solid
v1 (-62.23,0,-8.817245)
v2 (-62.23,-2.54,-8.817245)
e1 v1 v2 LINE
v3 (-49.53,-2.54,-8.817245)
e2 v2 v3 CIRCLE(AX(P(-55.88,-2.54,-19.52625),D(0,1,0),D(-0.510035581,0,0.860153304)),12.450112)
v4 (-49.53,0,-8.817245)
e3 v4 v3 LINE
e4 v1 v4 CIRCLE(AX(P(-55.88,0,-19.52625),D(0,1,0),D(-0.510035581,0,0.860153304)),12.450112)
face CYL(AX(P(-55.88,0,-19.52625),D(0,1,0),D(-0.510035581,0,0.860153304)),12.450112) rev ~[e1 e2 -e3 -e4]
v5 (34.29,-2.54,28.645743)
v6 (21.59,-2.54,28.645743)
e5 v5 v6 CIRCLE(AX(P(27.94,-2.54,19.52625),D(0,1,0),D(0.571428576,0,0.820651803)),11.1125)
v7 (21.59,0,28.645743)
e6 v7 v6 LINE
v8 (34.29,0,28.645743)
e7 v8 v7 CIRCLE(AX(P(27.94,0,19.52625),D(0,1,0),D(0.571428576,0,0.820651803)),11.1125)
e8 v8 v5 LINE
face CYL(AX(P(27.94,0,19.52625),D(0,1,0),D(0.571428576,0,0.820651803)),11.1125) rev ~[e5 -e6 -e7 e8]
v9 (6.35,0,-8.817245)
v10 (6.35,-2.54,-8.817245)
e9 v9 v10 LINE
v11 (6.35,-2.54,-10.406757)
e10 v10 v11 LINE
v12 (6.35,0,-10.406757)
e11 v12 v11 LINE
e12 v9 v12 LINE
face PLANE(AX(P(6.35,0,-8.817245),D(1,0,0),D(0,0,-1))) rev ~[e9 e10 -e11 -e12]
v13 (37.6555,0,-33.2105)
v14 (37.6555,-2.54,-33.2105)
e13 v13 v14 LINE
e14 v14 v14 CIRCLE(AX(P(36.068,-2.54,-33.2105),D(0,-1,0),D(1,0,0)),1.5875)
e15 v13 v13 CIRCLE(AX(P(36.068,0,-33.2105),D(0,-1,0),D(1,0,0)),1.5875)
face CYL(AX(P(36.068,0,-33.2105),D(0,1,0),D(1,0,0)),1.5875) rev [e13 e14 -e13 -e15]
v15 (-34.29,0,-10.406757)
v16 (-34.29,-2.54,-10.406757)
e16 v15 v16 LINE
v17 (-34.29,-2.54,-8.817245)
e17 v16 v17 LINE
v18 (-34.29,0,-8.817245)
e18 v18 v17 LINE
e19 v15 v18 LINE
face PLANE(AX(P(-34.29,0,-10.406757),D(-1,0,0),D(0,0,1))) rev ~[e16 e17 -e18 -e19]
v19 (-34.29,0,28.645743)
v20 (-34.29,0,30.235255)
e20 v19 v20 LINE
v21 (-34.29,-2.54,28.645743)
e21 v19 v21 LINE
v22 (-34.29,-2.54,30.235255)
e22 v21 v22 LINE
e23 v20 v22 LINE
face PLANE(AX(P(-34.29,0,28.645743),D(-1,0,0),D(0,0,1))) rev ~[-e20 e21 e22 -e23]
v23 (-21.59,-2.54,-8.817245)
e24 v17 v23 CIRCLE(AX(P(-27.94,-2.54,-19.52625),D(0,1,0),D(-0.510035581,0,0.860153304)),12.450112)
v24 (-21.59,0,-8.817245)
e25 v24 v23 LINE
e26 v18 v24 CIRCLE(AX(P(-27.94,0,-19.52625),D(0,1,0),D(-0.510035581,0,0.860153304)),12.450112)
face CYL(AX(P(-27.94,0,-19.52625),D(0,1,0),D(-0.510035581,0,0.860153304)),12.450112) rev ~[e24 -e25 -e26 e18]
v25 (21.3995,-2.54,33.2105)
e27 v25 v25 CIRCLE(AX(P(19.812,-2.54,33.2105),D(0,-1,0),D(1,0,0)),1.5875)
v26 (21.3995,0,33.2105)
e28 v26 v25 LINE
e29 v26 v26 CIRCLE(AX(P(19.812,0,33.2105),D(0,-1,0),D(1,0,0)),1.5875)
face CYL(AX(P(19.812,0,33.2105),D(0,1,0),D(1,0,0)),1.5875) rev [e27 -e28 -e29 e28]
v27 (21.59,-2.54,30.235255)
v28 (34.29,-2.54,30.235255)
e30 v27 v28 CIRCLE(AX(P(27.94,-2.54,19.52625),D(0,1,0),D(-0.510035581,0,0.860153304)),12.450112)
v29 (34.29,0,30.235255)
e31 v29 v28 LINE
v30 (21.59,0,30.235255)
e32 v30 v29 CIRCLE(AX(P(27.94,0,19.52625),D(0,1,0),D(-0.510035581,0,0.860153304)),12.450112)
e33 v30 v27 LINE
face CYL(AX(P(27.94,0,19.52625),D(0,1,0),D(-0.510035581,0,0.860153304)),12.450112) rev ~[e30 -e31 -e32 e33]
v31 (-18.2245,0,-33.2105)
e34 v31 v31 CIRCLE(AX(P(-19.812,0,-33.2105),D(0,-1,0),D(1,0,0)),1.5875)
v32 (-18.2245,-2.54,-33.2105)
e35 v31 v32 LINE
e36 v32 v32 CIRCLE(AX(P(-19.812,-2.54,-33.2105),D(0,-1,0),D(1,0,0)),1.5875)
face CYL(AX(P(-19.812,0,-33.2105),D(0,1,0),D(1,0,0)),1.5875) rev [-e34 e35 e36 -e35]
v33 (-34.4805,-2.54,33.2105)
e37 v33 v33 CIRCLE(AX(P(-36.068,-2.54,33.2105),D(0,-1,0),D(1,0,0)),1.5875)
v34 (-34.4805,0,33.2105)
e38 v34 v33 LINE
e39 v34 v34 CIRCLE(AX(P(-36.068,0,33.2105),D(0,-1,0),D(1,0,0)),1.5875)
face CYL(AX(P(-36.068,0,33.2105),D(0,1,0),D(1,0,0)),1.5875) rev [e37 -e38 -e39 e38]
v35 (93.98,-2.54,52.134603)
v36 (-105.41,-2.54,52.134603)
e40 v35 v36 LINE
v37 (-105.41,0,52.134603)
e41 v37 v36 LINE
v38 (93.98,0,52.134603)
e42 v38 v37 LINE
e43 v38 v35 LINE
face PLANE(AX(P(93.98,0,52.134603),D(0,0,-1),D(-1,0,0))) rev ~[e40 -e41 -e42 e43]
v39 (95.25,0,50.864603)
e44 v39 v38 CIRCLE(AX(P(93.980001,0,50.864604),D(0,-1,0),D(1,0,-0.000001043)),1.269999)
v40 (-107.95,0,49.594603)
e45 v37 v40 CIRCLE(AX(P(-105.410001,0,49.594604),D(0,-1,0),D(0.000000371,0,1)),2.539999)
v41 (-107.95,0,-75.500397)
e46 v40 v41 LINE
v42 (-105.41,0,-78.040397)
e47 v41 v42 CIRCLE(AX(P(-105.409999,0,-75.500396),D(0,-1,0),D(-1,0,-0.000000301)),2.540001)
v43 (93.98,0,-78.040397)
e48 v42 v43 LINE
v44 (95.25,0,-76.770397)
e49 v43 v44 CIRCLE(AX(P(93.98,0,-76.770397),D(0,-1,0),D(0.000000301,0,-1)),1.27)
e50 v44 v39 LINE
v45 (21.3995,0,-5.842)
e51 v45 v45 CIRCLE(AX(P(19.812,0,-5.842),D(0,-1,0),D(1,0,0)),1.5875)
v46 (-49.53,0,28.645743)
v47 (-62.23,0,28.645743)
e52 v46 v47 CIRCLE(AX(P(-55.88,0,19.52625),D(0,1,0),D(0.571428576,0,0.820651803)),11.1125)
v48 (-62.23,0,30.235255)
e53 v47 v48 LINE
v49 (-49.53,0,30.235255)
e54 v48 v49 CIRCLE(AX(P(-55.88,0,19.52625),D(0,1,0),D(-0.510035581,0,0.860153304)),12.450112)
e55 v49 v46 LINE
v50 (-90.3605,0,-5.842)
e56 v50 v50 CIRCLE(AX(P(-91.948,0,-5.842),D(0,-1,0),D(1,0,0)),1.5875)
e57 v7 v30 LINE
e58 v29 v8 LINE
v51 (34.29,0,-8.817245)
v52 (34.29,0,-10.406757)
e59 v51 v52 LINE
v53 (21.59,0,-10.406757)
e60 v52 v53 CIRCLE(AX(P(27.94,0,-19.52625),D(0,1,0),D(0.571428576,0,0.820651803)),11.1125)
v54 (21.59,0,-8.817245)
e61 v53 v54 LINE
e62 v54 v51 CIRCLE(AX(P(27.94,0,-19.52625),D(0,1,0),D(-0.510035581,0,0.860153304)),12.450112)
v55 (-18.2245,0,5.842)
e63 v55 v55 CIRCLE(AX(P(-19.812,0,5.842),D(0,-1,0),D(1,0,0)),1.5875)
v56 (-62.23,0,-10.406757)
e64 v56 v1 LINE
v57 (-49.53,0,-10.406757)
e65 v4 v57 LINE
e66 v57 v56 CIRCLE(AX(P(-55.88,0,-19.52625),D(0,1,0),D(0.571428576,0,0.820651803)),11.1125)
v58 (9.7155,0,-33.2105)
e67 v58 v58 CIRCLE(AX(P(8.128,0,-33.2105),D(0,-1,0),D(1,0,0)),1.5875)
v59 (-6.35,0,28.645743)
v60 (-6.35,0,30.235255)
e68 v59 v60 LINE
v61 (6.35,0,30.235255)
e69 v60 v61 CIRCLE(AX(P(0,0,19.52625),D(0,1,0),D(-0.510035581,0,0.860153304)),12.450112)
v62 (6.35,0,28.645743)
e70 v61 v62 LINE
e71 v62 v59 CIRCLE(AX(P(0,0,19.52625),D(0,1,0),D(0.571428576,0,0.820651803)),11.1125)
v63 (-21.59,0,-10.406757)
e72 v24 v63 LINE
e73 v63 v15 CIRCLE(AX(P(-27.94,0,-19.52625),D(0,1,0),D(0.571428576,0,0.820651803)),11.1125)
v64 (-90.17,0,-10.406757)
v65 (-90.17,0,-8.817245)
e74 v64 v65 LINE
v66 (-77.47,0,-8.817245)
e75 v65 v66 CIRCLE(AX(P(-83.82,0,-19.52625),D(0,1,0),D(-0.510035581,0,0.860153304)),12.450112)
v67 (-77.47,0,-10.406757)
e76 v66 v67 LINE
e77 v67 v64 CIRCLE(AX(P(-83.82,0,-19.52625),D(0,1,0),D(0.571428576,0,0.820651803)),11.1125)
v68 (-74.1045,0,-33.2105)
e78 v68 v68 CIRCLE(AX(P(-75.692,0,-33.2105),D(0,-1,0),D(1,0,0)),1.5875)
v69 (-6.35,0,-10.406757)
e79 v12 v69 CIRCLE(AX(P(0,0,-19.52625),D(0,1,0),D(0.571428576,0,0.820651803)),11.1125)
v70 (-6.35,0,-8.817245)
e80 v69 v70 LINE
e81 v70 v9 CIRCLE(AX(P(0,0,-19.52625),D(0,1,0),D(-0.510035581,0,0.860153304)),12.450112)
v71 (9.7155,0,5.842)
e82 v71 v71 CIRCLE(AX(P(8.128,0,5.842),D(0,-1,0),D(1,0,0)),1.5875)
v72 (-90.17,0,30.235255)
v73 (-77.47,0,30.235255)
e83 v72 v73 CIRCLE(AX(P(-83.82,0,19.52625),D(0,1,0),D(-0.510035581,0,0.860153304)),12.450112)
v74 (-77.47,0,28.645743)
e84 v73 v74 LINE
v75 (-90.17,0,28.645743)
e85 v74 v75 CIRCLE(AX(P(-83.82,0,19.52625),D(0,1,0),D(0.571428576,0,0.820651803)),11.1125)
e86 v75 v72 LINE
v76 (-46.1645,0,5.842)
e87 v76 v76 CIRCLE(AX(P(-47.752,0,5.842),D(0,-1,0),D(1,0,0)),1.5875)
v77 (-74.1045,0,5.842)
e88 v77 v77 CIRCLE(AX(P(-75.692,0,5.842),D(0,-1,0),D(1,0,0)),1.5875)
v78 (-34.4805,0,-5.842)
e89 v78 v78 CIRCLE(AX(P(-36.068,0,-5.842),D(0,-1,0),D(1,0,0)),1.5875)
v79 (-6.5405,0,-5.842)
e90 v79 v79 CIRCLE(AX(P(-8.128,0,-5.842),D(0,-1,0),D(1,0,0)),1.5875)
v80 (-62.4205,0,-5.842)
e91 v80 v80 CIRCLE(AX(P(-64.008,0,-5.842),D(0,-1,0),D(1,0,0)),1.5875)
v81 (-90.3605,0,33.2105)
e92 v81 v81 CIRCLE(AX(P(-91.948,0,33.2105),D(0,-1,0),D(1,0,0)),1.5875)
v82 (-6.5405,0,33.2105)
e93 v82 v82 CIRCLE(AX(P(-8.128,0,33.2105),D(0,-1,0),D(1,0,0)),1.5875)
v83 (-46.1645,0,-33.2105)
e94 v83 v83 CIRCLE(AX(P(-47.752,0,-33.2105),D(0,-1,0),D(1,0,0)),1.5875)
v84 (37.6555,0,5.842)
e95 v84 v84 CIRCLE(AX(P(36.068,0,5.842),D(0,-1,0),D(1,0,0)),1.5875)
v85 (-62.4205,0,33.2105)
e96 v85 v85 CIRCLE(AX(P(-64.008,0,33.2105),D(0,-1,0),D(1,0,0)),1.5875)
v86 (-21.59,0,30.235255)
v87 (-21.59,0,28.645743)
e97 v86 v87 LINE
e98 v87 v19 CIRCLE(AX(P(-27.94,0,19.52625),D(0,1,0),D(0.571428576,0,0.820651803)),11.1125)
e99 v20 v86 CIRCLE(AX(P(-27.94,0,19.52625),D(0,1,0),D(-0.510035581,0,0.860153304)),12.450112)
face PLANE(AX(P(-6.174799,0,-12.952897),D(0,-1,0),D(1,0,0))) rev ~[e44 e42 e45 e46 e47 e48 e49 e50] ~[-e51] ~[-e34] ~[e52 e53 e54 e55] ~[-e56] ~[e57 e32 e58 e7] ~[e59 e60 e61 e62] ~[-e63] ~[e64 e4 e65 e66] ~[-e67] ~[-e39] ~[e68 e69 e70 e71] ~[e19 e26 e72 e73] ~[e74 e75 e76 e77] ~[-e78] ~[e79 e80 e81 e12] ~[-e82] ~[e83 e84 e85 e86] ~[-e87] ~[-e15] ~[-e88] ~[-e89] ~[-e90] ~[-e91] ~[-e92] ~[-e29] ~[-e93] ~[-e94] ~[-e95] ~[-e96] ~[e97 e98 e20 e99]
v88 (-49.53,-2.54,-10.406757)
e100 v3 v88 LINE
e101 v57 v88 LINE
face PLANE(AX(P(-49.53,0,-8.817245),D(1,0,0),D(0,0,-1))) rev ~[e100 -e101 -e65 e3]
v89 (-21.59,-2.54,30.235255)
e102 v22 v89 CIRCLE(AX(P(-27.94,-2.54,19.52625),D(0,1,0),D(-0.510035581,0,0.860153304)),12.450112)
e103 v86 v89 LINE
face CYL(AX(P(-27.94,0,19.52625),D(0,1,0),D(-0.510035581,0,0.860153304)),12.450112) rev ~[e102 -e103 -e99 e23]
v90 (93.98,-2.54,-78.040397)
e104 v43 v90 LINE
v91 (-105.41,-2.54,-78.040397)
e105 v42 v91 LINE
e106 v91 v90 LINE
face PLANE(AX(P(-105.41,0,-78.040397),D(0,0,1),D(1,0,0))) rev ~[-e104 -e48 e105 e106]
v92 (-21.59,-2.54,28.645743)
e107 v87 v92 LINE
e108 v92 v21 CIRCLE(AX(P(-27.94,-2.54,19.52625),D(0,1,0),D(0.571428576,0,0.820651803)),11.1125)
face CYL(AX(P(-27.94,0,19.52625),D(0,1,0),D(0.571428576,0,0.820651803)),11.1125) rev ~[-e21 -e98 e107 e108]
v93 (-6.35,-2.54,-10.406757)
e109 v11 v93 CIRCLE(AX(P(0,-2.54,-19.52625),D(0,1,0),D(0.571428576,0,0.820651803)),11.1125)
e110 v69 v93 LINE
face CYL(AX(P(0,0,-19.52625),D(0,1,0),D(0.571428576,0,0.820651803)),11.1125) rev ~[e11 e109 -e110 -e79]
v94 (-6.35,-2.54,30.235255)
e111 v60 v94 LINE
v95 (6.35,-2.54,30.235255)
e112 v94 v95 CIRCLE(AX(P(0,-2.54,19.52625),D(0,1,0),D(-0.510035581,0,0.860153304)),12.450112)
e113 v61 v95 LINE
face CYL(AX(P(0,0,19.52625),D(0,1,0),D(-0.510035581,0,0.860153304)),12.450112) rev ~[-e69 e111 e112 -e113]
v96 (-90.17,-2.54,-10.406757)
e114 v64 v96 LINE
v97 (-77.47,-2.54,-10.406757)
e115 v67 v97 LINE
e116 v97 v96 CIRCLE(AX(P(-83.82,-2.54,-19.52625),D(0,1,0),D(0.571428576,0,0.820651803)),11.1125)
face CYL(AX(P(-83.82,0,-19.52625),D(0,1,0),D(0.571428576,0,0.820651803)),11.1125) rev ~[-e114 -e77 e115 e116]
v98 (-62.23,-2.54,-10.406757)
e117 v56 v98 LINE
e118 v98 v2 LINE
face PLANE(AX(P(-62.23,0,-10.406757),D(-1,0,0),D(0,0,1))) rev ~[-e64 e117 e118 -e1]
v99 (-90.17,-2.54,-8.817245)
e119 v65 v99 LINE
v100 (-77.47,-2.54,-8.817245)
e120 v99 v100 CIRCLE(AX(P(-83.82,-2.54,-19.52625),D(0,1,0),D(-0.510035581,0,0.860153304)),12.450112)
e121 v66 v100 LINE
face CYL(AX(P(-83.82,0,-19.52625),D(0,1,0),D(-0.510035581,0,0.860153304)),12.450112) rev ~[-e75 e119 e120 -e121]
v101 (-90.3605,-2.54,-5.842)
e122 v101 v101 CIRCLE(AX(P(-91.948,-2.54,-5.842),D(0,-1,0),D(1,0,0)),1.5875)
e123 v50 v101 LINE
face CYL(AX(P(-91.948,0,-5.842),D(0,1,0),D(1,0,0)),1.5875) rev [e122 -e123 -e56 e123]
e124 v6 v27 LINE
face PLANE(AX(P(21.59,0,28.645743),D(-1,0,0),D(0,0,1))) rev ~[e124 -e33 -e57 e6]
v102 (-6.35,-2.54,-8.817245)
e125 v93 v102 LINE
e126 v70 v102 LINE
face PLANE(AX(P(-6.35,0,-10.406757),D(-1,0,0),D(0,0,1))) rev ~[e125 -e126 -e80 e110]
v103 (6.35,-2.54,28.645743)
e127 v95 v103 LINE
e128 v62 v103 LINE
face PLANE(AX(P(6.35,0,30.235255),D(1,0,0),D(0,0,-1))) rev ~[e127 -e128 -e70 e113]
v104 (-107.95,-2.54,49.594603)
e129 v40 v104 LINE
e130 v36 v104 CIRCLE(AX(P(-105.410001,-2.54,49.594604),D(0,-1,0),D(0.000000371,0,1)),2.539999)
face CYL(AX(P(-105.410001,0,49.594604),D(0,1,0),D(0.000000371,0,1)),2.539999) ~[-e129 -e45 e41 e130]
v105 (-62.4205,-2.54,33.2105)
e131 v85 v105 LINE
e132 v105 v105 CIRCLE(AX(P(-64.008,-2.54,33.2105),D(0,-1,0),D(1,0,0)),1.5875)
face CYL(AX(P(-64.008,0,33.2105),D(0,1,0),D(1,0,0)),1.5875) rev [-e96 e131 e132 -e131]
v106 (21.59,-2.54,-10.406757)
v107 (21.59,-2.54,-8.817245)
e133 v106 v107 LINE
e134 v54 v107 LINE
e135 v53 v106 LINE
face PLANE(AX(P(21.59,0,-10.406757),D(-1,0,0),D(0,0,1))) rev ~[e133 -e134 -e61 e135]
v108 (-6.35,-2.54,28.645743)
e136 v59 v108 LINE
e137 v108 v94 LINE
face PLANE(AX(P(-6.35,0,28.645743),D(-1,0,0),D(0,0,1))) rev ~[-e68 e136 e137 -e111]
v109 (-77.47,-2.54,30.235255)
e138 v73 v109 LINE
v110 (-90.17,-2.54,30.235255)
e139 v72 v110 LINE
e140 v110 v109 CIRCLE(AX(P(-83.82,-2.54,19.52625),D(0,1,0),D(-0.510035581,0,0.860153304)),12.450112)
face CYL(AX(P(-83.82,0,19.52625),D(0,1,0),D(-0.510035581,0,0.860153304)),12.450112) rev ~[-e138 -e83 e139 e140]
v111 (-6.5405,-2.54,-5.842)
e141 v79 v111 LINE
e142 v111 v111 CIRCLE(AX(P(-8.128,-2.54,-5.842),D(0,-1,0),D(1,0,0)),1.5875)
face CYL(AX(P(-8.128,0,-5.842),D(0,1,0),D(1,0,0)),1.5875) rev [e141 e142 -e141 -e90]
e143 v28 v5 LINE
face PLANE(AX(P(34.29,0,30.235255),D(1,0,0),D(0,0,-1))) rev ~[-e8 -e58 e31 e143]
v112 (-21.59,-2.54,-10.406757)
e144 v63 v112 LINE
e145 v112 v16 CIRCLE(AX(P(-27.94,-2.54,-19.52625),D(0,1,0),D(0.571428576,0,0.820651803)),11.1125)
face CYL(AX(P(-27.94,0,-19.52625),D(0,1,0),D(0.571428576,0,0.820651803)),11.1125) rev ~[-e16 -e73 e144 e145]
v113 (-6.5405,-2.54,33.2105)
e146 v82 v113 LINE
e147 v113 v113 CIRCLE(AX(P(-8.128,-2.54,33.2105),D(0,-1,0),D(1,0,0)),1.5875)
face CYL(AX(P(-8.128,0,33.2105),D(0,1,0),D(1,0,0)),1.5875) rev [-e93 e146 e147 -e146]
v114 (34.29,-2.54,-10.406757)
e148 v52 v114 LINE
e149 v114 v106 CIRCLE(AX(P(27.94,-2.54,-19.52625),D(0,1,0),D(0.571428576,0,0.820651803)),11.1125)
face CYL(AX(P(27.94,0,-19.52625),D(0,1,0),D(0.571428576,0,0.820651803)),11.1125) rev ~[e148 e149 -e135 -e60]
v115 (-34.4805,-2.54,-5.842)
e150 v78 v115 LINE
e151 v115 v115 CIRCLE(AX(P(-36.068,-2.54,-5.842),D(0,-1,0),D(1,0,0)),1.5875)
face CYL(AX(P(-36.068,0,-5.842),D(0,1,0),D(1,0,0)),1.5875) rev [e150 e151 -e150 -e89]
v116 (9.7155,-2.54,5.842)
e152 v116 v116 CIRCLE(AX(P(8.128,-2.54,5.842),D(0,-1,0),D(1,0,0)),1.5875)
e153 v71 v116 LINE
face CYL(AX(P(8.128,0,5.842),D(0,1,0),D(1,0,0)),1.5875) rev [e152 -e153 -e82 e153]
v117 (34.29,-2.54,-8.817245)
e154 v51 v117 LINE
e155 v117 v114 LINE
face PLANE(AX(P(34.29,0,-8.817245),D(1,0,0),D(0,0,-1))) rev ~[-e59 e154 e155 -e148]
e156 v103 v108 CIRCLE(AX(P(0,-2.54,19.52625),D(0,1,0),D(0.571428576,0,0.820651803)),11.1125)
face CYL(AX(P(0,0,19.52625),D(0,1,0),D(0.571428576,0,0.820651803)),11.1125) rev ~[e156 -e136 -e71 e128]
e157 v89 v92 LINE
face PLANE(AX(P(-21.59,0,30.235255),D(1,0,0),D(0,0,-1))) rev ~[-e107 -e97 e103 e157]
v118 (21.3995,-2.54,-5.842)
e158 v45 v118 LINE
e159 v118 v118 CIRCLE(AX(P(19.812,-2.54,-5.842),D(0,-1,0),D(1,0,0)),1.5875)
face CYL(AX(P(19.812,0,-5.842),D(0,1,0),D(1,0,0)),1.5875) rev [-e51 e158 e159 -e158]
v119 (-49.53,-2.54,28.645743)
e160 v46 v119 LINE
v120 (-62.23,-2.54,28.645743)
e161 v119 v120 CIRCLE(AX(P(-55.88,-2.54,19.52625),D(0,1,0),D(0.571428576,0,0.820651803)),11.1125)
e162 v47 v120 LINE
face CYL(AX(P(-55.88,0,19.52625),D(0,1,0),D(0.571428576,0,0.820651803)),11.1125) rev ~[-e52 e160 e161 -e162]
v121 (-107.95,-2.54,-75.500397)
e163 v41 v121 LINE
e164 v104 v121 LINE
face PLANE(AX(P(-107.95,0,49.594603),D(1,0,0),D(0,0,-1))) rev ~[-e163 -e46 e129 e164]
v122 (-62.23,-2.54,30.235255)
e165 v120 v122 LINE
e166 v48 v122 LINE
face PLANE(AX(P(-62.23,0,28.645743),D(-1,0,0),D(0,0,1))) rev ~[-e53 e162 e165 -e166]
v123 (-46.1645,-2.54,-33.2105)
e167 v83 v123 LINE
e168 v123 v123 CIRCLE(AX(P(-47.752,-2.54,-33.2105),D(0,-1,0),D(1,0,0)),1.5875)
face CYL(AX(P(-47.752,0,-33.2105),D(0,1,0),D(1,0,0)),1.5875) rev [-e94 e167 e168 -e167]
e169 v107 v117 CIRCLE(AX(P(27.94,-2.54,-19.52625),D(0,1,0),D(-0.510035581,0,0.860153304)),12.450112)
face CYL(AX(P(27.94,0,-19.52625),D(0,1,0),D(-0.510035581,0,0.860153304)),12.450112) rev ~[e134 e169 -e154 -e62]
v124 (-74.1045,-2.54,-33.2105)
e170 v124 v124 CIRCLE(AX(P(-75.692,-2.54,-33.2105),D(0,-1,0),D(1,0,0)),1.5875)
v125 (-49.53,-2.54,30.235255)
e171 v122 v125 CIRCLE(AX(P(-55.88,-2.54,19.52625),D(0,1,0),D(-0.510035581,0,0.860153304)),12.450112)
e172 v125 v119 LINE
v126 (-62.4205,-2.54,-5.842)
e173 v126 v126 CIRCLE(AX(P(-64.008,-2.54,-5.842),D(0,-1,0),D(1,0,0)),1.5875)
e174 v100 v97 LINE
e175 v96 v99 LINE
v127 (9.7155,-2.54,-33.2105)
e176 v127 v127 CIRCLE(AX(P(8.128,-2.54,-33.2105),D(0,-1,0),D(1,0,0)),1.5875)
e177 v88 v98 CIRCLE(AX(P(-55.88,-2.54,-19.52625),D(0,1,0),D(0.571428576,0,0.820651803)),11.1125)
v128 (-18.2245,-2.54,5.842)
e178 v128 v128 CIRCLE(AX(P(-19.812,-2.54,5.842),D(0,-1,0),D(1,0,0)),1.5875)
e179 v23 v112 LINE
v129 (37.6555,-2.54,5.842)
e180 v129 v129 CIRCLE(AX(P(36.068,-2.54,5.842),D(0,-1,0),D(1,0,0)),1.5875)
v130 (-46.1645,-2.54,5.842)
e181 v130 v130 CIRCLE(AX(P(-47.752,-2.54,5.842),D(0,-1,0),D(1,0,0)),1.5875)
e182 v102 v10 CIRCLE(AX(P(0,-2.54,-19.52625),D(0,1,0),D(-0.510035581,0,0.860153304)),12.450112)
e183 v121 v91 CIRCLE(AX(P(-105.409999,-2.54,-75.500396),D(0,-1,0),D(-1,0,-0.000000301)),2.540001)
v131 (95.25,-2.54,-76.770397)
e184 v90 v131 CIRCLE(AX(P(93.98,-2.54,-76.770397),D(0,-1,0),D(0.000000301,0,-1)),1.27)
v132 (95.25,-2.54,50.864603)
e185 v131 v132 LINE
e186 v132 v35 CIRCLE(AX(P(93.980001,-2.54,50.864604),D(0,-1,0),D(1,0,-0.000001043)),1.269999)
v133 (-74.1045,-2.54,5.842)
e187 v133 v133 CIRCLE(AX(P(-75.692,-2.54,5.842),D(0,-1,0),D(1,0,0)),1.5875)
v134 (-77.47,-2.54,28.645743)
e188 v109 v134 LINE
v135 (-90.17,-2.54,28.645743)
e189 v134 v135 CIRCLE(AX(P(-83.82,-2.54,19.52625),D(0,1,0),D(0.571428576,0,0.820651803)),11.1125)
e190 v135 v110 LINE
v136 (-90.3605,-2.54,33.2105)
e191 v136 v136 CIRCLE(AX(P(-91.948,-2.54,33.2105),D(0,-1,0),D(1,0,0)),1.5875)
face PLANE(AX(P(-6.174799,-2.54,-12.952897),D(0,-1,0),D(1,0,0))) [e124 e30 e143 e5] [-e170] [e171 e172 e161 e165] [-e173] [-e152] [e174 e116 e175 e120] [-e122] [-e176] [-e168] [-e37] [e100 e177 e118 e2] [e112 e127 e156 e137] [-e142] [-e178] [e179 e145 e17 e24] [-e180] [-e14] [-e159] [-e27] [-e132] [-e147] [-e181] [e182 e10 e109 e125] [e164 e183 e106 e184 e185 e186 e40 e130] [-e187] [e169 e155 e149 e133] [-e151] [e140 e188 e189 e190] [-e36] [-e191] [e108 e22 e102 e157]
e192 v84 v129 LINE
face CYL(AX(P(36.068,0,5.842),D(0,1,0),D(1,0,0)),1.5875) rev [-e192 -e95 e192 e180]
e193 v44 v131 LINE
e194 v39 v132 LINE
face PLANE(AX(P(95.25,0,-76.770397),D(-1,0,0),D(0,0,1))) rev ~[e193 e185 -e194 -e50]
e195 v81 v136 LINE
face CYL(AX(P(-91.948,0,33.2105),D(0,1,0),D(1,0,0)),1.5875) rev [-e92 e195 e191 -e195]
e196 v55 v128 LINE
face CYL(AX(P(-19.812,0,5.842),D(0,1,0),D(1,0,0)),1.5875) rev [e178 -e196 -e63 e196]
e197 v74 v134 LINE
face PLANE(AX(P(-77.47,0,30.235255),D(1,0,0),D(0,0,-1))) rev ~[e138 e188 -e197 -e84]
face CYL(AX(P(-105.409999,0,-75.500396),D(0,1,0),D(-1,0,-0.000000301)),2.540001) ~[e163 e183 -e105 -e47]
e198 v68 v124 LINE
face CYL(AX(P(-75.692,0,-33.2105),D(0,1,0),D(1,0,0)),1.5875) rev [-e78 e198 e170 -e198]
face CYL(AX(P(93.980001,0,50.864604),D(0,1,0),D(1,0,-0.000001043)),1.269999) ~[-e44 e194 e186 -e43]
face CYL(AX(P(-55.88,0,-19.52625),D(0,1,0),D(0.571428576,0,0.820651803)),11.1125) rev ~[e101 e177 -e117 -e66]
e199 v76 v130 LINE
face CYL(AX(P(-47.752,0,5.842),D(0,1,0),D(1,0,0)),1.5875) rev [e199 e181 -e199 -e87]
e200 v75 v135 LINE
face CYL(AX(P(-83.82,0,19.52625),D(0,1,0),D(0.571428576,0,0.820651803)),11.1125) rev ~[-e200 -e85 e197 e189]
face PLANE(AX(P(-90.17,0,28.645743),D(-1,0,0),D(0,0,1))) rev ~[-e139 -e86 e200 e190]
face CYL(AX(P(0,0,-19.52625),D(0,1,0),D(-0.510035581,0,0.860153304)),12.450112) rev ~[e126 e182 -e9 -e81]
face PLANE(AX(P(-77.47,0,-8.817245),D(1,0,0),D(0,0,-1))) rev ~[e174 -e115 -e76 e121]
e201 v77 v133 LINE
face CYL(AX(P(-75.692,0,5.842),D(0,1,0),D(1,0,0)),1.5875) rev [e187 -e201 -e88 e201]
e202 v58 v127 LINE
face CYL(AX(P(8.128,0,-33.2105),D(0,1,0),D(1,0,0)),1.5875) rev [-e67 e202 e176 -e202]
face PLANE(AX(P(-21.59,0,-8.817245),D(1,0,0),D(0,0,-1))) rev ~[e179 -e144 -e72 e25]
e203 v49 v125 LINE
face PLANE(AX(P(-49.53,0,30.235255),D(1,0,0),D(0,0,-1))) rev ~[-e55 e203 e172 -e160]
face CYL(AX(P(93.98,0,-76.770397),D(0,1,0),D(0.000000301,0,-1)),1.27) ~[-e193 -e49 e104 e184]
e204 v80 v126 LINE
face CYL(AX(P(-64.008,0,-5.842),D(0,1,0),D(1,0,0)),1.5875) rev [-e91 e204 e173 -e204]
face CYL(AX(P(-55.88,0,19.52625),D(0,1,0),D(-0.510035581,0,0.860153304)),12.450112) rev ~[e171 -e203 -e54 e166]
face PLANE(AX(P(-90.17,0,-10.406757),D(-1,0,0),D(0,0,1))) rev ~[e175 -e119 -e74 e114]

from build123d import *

# Parameters (mm, degrees)
F0_R     = 1.5875
F1_DEPTH = 2.54


with BuildPart() as f1:
    # F0 (on Front) → F1 (new body)
    with BuildSketch(Plane.XZ):
        with BuildLine():
            Line((93.98, 52.134603), (-105.41, 52.134603))
            ThreePointArc((-105.41, 52.134603), (-107.206051, 51.390655), (-107.95, 49.594603))
            Line((-107.95, 49.594603), (-107.95, -75.500397))
            ThreePointArc((-107.95, -75.500397), (-107.206051, -77.296448), (-105.41, -78.040397))
            Line((-105.41, -78.040397), (93.98, -78.040397))
            ThreePointArc((93.98, -78.040397), (94.878026, -77.668422), (95.25, -76.770397))
            Line((95.25, -76.770397), (95.25, 50.864603))
            ThreePointArc((95.25, 50.864603), (94.878026, 51.762629), (93.98, 52.134603))
        make_face()
        with Locations((-75.692, -33.2105)):
            Circle(F0_R, mode=Mode.SUBTRACT)
        with BuildLine():
            ThreePointArc((-77.47, -10.406757), (-83.82, -30.63875), (-90.17, -10.406757))
            Line((-90.17, -10.406757), (-90.17, -8.817245))
            ThreePointArc((-90.17, -8.817245), (-83.82, -7.076138), (-77.47, -8.817245))
            Line((-77.47, -8.817245), (-77.47, -10.406757))
        make_face(mode=Mode.SUBTRACT)
        with Locations((-47.752, -33.2105)):
            Circle(F0_R, mode=Mode.SUBTRACT)
        with Locations((-19.812, -33.2105)):
            Circle(F0_R, mode=Mode.SUBTRACT)
        with BuildLine():
            ThreePointArc((-49.53, -10.406757), (-55.88, -30.63875), (-62.23, -10.406757))
            Line((-62.23, -10.406757), (-62.23, -8.817245))
            ThreePointArc((-62.23, -8.817245), (-55.88, -7.076138), (-49.53, -8.817245))
            Line((-49.53, -8.817245), (-49.53, -10.406757))
        make_face(mode=Mode.SUBTRACT)
        with BuildLine():
            ThreePointArc((-21.59, -10.406757), (-27.94, -30.63875), (-34.29, -10.406757))
            Line((-34.29, -10.406757), (-34.29, -8.817245))
            ThreePointArc((-34.29, -8.817245), (-27.94, -7.076138), (-21.59, -8.817245))
            Line((-21.59, -8.817245), (-21.59, -10.406757))
        make_face(mode=Mode.SUBTRACT)
        with Locations((8.128, -33.2105)):
            Circle(F0_R, mode=Mode.SUBTRACT)
        with Locations((36.068, -33.2105)):
            Circle(F0_R, mode=Mode.SUBTRACT)
        with BuildLine():
            ThreePointArc((6.35, -10.406757), (0, -30.63875), (-6.35, -10.406757))
            Line((-6.35, -10.406757), (-6.35, -8.817245))
            ThreePointArc((-6.35, -8.817245), (0, -7.076138), (6.35, -8.817245))
            Line((6.35, -8.817245), (6.35, -10.406757))
        make_face(mode=Mode.SUBTRACT)
        with BuildLine():
            ThreePointArc((34.29, -10.406757), (27.94, -30.63875), (21.59, -10.406757))
            Line((21.59, -10.406757), (21.59, -8.817245))
            ThreePointArc((21.59, -8.817245), (27.94, -7.076138), (34.29, -8.817245))
            Line((34.29, -8.817245), (34.29, -10.406757))
        make_face(mode=Mode.SUBTRACT)
        with Locations((-91.948, -5.842)):
            Circle(F0_R, mode=Mode.SUBTRACT)
        with Locations((-64.008, -5.842)):
            Circle(F0_R, mode=Mode.SUBTRACT)
        with Locations((-75.692, 5.842)):
            Circle(F0_R, mode=Mode.SUBTRACT)
        with Locations((-36.068, -5.842)):
            Circle(F0_R, mode=Mode.SUBTRACT)
        with Locations((-8.128, -5.842)):
            Circle(F0_R, mode=Mode.SUBTRACT)
        with Locations((-47.752, 5.842)):
            Circle(F0_R, mode=Mode.SUBTRACT)
        with Locations((-19.812, 5.842)):
            Circle(F0_R, mode=Mode.SUBTRACT)
        with BuildLine():
            ThreePointArc((-77.47, 28.645743), (-83.82, 8.41375), (-90.17, 28.645743))
            Line((-90.17, 28.645743), (-90.17, 30.235255))
            ThreePointArc((-90.17, 30.235255), (-83.82, 31.976362), (-77.47, 30.235255))
            Line((-77.47, 30.235255), (-77.47, 28.645743))
        make_face(mode=Mode.SUBTRACT)
        with Locations((-91.948, 33.2105)):
            Circle(F0_R, mode=Mode.SUBTRACT)
        with Locations((-64.008, 33.2105)):
            Circle(F0_R, mode=Mode.SUBTRACT)
        with BuildLine():
            ThreePointArc((-49.53, 28.645743), (-55.88, 8.41375), (-62.23, 28.645743))
            Line((-62.23, 28.645743), (-62.23, 30.235255))
            ThreePointArc((-62.23, 30.235255), (-55.88, 31.976362), (-49.53, 30.235255))
            Line((-49.53, 30.235255), (-49.53, 28.645743))
        make_face(mode=Mode.SUBTRACT)
        with Locations((-36.068, 33.2105)):
            Circle(F0_R, mode=Mode.SUBTRACT)
        with BuildLine():
            ThreePointArc((-21.59, 28.645743), (-27.94, 8.41375), (-34.29, 28.645743))
            Line((-34.29, 28.645743), (-34.29, 30.235255))
            ThreePointArc((-34.29, 30.235255), (-27.94, 31.976362), (-21.59, 30.235255))
            Line((-21.59, 30.235255), (-21.59, 28.645743))
        make_face(mode=Mode.SUBTRACT)
        with Locations((-8.128, 33.2105)):
            Circle(F0_R, mode=Mode.SUBTRACT)
        with Locations((19.812, -5.842)):
            Circle(F0_R, mode=Mode.SUBTRACT)
        with Locations((8.128, 5.842)):
            Circle(F0_R, mode=Mode.SUBTRACT)
        with Locations((36.068, 5.842)):
            Circle(F0_R, mode=Mode.SUBTRACT)
        with BuildLine():
            ThreePointArc((6.35, 28.645743), (0, 8.41375), (-6.35, 28.645743))
            Line((-6.35, 28.645743), (-6.35, 30.235255))
            ThreePointArc((-6.35, 30.235255), (0, 31.976362), (6.35, 30.235255))
            Line((6.35, 30.235255), (6.35, 28.645743))
        make_face(mode=Mode.SUBTRACT)
        with BuildLine():
            ThreePointArc((34.29, 28.645743), (27.94, 8.41375), (21.59, 28.645743))
            Line((21.59, 28.645743), (21.59, 30.235255))
            ThreePointArc((21.59, 30.235255), (27.94, 31.976362), (34.29, 30.235255))
            Line((34.29, 30.235255), (34.29, 28.645743))
        make_face(mode=Mode.SUBTRACT)
        with Locations((19.812, 33.2105)):
            Circle(F0_R, mode=Mode.SUBTRACT)
    extrude(amount=F1_DEPTH)


solid = f1.part
